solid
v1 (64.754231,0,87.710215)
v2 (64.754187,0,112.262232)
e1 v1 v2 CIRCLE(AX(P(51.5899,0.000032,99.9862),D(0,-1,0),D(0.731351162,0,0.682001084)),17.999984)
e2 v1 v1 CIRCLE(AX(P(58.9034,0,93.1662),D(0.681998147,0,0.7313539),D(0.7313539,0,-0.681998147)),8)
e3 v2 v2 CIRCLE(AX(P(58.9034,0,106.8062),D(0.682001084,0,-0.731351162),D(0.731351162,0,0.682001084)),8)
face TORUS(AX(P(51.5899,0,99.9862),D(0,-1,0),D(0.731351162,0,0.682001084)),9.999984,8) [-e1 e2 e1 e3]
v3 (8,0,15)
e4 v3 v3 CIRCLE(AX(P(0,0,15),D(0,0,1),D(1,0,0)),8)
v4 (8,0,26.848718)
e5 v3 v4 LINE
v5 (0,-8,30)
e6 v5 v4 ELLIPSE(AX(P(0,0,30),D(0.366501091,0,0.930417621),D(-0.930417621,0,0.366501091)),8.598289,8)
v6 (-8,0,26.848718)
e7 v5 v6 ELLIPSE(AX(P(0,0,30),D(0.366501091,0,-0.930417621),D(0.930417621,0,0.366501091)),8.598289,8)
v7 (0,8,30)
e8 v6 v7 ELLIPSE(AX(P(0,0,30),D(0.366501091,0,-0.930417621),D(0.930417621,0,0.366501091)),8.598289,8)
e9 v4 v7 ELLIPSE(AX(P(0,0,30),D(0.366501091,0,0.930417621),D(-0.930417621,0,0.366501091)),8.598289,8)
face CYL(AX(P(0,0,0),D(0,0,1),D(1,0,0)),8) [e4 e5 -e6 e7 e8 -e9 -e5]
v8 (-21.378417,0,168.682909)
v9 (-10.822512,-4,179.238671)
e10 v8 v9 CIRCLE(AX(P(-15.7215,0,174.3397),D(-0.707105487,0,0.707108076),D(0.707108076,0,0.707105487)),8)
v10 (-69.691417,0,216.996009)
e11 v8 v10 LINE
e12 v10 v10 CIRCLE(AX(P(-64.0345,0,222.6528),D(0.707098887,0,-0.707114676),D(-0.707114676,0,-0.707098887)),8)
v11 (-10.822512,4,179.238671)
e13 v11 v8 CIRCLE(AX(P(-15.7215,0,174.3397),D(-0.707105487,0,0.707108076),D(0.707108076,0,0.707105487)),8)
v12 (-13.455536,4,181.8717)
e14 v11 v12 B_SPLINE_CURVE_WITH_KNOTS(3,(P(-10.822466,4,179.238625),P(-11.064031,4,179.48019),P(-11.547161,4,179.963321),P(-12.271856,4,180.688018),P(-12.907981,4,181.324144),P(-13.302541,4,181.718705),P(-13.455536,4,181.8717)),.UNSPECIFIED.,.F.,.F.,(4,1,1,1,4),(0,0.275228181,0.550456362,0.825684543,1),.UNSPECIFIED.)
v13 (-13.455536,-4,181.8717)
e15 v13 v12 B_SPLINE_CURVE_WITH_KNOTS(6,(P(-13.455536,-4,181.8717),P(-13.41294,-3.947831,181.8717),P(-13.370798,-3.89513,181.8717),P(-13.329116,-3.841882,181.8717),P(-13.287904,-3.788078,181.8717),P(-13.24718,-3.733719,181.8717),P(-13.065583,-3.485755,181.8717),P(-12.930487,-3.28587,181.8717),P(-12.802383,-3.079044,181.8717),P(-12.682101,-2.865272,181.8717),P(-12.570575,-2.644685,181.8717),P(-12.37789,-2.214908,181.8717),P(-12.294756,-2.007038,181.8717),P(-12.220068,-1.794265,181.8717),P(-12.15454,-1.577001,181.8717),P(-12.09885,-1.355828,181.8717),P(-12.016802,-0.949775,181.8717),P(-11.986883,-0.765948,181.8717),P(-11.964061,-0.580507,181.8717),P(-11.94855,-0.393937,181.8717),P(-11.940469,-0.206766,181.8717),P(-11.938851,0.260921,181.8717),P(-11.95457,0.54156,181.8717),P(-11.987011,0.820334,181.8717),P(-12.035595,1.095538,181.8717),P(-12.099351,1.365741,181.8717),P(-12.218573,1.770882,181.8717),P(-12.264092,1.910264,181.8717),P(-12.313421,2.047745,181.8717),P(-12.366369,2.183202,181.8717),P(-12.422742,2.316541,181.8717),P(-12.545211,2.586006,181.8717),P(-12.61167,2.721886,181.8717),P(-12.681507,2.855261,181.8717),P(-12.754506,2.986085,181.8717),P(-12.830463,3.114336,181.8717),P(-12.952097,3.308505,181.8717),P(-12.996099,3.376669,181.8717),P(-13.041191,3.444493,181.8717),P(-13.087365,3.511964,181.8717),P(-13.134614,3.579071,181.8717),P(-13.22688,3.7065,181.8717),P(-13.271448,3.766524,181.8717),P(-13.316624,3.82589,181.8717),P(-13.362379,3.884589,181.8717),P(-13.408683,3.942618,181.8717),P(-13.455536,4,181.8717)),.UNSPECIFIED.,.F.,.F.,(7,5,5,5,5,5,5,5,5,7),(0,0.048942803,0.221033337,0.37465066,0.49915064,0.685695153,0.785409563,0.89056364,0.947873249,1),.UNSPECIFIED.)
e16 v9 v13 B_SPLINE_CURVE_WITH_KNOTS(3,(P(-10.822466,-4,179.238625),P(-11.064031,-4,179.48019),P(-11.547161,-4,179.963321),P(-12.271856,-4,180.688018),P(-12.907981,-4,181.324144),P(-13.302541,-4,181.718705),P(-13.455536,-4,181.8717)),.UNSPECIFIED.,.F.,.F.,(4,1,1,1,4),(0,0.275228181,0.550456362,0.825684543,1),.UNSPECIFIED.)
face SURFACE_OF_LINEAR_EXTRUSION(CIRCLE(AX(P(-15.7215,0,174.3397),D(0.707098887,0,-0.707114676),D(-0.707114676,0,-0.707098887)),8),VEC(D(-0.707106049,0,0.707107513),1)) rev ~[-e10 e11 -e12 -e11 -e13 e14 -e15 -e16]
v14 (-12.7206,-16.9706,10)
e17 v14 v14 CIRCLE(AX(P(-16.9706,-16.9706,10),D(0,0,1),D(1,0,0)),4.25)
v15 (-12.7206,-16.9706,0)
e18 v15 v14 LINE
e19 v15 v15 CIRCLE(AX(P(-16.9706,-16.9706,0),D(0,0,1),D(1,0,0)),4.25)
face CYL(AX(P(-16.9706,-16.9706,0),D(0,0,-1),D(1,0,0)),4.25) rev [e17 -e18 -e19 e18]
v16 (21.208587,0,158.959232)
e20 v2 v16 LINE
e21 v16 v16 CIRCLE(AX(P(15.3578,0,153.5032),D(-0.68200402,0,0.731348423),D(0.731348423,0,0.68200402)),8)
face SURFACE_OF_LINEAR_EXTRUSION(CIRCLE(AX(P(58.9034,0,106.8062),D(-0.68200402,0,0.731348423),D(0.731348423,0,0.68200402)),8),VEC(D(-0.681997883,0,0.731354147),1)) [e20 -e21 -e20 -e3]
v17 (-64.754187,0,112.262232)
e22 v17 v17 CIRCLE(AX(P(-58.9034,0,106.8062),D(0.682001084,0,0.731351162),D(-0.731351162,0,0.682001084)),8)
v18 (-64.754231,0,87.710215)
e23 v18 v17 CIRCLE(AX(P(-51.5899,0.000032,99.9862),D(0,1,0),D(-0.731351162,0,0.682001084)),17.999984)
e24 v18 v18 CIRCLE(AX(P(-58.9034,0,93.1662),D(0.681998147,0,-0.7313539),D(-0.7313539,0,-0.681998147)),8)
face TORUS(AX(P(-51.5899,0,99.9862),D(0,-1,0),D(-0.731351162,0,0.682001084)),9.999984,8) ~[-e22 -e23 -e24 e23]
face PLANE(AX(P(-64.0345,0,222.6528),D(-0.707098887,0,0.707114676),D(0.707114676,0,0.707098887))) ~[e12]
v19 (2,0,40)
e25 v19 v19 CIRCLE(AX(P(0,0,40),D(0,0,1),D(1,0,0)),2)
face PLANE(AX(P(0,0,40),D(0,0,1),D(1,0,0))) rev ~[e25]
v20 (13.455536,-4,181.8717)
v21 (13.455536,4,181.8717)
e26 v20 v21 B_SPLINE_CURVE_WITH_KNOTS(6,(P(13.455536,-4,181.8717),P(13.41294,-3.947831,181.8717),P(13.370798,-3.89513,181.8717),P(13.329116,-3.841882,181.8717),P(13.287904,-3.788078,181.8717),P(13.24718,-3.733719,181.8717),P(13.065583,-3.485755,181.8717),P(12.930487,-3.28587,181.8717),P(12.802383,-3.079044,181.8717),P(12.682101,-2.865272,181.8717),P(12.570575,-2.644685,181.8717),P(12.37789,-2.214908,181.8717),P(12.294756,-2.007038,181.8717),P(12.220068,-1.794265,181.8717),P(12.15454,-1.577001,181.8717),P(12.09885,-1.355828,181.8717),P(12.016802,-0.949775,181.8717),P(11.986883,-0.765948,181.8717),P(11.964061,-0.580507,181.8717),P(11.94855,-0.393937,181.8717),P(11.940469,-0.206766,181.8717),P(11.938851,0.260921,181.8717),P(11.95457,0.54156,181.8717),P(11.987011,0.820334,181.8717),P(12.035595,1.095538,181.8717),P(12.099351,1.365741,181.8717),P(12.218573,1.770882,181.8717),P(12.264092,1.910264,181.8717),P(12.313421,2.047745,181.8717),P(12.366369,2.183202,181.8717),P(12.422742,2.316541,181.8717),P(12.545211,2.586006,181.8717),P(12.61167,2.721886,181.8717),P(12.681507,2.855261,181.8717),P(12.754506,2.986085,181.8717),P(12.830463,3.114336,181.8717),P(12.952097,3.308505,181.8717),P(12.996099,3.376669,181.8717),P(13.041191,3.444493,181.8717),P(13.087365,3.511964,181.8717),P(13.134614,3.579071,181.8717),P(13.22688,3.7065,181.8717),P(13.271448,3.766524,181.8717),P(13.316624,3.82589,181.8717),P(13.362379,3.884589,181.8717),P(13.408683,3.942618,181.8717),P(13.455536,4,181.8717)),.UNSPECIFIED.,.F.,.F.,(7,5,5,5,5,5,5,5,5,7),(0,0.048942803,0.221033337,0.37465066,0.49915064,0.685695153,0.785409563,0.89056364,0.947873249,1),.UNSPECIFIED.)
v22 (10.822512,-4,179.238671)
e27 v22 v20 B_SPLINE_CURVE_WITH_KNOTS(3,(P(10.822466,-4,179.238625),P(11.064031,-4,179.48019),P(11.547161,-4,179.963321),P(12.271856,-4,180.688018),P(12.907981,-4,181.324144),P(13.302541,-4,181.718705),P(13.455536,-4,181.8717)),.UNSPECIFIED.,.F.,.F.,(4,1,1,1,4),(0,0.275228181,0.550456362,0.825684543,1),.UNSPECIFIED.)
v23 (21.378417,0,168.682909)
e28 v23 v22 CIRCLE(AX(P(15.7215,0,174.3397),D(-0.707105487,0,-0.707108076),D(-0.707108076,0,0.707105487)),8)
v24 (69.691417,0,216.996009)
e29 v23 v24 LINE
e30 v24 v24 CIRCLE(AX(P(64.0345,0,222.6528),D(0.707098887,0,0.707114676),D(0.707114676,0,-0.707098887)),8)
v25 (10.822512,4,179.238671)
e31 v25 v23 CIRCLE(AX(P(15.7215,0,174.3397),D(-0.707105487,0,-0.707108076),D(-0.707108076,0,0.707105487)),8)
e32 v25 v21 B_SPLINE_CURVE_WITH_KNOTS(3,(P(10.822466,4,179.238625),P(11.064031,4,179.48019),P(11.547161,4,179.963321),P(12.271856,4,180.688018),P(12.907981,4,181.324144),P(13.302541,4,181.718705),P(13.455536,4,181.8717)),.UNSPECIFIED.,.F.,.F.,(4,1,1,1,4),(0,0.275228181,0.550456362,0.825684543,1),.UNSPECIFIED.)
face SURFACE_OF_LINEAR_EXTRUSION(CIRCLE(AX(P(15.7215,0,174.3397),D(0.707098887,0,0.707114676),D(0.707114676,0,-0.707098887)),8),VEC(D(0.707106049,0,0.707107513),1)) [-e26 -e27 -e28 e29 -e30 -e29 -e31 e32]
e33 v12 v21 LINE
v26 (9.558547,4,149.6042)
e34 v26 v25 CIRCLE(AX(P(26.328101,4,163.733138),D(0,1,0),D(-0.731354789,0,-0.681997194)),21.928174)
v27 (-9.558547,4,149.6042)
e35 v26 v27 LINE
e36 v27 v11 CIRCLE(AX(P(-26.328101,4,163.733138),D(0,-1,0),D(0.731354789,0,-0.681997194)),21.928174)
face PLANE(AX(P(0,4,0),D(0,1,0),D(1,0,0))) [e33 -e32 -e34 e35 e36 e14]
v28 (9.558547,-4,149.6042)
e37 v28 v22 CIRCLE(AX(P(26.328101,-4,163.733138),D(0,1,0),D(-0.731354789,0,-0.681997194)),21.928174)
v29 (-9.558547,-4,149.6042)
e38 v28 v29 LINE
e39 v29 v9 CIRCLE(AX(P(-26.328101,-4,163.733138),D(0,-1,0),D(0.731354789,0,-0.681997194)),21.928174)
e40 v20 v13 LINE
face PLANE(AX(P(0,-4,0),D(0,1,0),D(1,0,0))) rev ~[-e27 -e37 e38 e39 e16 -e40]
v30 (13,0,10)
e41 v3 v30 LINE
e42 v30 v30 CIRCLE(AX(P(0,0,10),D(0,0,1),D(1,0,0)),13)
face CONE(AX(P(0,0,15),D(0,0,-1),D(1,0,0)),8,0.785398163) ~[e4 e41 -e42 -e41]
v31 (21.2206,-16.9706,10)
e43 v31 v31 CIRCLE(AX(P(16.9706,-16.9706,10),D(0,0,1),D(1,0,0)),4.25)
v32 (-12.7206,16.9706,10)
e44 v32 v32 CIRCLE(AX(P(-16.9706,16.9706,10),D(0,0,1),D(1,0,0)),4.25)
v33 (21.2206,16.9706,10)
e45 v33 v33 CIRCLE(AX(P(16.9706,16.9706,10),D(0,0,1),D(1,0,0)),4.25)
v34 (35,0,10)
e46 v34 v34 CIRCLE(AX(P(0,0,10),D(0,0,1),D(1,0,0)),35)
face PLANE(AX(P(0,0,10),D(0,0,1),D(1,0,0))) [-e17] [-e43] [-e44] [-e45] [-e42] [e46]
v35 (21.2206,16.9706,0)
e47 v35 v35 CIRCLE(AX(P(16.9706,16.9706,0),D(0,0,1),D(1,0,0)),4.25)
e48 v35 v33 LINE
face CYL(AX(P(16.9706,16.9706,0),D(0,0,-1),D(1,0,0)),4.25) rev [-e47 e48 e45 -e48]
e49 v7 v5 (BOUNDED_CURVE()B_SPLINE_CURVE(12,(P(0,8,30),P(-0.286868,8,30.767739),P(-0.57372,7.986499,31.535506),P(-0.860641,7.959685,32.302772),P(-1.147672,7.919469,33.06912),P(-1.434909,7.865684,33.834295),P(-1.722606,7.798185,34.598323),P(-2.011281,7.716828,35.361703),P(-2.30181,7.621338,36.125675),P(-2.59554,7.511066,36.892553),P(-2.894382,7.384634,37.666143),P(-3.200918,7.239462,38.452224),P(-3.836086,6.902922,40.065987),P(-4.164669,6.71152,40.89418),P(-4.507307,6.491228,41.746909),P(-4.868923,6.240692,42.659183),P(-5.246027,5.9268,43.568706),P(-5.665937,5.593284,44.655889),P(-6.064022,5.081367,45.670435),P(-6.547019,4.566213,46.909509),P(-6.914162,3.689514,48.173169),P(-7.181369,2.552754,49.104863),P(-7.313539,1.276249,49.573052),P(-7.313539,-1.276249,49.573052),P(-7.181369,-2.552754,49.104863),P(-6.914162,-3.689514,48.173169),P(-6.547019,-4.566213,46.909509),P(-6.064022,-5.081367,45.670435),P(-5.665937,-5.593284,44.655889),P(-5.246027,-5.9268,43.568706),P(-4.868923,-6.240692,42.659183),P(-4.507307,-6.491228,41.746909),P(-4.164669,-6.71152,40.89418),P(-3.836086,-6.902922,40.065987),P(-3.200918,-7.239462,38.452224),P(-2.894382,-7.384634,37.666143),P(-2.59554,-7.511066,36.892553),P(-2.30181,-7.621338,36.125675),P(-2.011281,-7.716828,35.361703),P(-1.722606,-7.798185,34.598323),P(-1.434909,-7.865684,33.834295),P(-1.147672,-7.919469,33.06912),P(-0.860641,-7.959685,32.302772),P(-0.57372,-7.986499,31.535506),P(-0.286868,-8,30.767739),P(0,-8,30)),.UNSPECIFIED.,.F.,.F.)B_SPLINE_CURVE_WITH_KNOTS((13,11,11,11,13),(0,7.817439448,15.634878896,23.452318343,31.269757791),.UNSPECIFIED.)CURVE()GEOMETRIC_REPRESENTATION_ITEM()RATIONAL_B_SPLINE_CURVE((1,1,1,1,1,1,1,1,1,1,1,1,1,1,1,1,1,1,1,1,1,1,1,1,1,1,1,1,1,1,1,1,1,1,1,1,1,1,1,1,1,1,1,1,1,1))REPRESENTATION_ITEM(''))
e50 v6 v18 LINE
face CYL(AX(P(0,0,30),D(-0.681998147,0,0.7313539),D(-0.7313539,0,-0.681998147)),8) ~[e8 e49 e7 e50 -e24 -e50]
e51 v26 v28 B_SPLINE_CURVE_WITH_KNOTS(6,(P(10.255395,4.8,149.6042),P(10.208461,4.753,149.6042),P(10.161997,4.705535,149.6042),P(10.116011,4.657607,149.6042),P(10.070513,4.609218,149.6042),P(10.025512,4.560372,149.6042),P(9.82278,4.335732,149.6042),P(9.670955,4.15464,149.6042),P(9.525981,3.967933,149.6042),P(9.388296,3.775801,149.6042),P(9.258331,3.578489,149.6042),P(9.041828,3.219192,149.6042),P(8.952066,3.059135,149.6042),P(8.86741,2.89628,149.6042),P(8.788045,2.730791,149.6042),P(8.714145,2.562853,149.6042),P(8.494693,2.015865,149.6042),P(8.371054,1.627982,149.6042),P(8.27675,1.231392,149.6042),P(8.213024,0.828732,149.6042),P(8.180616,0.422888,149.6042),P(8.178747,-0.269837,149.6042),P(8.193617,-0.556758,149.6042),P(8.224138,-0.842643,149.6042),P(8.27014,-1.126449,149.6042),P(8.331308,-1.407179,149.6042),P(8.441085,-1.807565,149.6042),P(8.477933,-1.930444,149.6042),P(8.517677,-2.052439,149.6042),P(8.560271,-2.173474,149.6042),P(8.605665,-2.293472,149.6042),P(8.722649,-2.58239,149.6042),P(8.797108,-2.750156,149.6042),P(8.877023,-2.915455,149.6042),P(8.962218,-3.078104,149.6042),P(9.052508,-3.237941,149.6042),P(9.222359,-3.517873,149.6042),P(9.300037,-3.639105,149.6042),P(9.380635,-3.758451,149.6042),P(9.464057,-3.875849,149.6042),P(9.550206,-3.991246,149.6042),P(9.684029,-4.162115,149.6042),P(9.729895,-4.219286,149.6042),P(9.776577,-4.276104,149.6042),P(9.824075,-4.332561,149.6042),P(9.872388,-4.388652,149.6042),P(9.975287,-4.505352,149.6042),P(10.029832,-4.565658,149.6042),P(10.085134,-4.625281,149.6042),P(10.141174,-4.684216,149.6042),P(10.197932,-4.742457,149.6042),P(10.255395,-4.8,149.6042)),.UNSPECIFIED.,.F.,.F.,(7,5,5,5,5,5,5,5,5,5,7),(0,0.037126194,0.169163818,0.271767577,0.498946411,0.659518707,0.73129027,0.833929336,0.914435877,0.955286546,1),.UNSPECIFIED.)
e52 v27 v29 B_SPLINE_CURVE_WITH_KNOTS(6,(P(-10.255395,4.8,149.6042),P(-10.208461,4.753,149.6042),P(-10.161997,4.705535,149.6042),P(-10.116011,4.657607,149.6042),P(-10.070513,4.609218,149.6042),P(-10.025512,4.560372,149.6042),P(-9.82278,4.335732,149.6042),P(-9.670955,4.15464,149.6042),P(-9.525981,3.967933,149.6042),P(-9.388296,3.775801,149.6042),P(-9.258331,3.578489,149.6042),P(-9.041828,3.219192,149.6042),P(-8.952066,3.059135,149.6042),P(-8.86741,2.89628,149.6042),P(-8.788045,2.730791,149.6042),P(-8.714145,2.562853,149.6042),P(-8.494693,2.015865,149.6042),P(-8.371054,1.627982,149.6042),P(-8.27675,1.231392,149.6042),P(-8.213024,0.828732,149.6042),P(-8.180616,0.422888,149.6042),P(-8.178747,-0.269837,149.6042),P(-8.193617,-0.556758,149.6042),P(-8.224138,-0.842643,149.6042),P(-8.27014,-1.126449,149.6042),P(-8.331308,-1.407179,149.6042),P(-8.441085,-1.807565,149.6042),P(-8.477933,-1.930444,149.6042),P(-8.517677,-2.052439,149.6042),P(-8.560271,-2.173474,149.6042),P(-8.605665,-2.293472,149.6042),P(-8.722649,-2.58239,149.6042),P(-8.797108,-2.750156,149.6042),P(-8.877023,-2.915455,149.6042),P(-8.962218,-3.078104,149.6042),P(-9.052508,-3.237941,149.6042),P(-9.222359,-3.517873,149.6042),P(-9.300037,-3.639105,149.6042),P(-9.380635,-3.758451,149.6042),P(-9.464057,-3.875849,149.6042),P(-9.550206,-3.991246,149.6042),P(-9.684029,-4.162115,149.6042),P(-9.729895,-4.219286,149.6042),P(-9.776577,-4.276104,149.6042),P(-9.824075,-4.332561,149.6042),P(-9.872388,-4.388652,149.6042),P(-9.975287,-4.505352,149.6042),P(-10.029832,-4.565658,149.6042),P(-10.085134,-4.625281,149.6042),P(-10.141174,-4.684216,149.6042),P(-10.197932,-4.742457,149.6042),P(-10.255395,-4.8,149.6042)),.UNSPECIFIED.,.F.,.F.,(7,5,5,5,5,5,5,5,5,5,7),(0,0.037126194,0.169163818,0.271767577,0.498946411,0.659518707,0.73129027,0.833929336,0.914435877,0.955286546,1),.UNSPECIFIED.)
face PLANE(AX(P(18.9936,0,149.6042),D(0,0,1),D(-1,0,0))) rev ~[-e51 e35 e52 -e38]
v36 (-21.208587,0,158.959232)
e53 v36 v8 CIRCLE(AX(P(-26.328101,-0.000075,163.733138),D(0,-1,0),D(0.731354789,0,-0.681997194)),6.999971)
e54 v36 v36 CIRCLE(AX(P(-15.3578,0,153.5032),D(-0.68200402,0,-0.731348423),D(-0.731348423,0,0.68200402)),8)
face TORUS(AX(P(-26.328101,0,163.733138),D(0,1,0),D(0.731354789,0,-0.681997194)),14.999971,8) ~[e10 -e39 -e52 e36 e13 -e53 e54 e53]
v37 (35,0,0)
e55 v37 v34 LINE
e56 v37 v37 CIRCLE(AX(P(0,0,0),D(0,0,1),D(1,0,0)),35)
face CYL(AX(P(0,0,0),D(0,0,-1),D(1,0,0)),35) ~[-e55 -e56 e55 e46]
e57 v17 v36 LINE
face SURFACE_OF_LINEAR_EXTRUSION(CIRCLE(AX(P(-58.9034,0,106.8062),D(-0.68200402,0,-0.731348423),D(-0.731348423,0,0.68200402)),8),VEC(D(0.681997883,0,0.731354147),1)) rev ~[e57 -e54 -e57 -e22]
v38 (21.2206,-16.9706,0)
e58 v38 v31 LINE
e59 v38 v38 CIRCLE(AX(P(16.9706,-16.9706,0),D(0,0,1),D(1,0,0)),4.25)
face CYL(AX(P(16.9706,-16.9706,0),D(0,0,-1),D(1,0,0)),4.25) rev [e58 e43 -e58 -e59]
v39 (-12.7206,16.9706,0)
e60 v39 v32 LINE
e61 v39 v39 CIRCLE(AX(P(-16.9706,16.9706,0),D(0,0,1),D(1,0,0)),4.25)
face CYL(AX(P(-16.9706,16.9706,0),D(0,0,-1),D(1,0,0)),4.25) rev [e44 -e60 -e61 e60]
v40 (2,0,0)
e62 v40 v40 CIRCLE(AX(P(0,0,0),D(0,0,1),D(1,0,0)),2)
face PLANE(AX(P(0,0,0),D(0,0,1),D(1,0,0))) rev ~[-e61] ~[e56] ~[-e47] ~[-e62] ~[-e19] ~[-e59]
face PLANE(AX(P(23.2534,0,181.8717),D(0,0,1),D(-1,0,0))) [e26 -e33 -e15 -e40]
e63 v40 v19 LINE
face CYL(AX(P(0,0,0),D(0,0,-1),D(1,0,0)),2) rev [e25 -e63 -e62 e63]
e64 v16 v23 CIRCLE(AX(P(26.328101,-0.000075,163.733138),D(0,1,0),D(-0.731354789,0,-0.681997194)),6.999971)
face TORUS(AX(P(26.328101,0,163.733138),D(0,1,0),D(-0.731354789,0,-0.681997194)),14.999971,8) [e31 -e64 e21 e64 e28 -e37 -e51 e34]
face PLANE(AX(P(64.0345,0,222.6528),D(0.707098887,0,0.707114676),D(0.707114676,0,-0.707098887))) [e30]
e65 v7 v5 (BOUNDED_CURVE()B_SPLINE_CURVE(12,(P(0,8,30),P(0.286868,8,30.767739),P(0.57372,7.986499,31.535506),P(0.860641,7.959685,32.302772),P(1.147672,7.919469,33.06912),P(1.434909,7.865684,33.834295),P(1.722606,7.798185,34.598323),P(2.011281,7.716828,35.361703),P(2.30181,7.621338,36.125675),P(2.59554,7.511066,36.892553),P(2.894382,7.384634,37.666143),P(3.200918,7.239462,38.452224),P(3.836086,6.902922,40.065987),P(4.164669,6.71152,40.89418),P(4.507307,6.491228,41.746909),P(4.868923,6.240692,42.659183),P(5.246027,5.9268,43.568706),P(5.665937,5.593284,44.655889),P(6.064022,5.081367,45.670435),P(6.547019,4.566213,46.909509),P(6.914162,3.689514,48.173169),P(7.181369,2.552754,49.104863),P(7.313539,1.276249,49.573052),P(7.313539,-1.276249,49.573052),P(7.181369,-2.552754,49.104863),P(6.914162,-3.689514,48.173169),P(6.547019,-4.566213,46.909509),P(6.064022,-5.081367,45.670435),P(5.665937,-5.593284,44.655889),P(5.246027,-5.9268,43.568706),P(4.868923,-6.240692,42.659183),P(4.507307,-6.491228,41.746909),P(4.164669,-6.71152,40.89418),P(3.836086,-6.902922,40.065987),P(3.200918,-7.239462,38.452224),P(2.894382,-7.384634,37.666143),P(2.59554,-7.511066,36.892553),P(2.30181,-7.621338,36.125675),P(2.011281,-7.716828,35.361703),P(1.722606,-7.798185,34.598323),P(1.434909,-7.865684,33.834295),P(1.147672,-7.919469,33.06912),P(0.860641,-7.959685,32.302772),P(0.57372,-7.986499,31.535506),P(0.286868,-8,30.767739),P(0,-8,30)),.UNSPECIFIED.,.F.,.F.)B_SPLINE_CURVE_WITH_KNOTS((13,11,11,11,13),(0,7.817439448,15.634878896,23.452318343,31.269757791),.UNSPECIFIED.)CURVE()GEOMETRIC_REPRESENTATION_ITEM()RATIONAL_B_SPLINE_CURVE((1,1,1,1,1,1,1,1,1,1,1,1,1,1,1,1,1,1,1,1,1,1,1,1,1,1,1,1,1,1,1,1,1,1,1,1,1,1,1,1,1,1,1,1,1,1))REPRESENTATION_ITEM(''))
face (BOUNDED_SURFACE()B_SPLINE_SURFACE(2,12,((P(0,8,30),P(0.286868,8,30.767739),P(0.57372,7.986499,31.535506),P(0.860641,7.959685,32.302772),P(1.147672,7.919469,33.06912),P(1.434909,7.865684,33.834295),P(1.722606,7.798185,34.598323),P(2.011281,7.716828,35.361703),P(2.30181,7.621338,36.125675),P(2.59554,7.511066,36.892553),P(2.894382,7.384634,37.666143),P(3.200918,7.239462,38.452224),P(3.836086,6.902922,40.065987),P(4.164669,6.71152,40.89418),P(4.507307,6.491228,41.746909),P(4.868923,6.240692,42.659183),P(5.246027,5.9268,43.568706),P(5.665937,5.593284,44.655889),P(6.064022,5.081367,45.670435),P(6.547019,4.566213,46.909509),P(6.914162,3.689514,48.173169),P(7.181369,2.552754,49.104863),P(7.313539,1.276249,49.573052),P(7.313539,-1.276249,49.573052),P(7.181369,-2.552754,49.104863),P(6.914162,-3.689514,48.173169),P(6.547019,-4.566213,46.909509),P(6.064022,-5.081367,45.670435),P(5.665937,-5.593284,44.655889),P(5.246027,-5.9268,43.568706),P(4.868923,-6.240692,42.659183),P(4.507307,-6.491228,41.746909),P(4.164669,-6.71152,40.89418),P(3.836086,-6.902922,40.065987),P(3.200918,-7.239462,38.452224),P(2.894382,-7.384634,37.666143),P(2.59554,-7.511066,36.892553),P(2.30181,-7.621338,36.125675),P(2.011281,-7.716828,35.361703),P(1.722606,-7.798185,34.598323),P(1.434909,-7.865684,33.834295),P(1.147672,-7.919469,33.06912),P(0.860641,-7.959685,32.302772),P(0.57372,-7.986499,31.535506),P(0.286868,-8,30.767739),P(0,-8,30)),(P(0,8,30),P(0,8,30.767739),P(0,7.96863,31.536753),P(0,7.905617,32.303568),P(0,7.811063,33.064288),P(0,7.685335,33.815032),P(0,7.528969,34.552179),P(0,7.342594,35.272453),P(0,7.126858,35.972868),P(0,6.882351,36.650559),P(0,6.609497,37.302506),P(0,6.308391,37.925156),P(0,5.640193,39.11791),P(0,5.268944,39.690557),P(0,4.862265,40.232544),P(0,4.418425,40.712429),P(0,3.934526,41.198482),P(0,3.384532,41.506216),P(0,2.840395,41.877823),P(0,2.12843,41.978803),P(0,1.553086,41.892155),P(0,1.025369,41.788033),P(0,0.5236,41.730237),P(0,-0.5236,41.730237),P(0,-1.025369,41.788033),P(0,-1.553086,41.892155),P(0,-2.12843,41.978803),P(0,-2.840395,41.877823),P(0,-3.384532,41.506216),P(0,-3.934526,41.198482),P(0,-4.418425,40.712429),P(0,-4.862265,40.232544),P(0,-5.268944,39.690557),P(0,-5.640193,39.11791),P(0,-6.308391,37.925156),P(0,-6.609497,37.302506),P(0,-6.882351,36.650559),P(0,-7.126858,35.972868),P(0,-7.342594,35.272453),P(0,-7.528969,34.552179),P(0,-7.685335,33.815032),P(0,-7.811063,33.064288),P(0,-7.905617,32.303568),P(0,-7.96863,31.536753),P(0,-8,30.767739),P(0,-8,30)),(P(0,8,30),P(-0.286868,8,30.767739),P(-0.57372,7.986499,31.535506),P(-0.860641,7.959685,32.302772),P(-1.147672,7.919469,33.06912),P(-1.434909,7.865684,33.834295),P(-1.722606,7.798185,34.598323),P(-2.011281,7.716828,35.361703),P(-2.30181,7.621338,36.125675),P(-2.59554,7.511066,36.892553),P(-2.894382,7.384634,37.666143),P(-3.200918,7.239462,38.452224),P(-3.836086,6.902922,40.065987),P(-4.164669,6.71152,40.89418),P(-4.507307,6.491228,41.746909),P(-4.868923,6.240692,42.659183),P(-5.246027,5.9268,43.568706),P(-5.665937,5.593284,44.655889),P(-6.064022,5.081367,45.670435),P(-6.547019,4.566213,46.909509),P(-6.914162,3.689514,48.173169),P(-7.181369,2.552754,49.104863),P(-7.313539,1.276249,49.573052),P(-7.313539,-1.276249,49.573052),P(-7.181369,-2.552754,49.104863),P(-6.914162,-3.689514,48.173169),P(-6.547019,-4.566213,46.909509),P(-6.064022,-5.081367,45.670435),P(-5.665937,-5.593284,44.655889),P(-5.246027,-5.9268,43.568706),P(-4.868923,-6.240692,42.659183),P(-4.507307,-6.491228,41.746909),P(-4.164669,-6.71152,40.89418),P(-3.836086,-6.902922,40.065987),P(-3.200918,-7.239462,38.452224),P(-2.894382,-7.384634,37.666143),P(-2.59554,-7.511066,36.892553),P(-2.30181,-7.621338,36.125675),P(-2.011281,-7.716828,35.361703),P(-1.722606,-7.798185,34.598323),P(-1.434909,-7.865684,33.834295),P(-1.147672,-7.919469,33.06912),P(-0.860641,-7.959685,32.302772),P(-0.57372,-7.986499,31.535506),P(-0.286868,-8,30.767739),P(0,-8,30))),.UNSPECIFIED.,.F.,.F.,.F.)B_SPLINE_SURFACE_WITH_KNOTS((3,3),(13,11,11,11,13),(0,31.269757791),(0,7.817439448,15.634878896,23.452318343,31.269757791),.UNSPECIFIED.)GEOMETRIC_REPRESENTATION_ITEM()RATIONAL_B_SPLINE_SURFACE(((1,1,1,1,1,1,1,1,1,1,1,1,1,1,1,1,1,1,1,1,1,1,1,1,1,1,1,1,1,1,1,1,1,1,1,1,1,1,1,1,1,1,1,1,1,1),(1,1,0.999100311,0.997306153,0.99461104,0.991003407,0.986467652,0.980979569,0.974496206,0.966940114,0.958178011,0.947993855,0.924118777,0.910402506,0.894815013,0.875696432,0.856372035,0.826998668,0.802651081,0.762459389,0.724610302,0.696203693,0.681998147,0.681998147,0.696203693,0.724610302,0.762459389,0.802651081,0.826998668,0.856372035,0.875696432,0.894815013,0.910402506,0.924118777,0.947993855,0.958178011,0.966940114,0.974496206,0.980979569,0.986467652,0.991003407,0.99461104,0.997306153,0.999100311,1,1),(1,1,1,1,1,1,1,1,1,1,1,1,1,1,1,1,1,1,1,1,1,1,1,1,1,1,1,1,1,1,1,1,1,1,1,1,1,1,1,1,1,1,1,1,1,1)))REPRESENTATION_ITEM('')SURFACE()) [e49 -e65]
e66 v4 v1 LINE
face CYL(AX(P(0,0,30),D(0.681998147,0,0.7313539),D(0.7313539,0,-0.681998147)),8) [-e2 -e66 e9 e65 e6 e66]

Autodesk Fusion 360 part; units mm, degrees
sketch "Sketch1" plane through (0, 0, 0) normal (0, 1, 0) x (1, 0, 0)
  line L0 (0, 0) -> (100, 0) construction
  line L1 (100, 0) -> (100, -250) construction
  line L2 (100, -250) -> (0, -250) construction
  line L3 (0, 0) -> (0, -30)
  line L4 (0, -30) -> (58.9034, -93.1662)
  line L5 (0, -30) -> (96.6869, -30) construction
  line L6 (58.9034, -106.8062) -> (15.3578, -153.5032)
  line L7 (65.2632, -99.9862) -> (65.2632, -250) construction
  line L8 (0, 0) -> (0, -250)
  line L9 (15.7215, -174.3397) -> (64.0345, -222.6528)
  line L10 (5.4788, -164.0971) -> (88.5181, -164.0971) construction
  arc A0 (58.9034, -106.8062) -> (58.9034, -93.1662) centre (51.5899, -99.9862) ccw
  arc A1 (15.3578, -153.5032) -> (15.7215, -174.3397) centre (26.3281, -163.7331) ccw
  line L11 (18.9936, -149.6042) -> (0, -149.6042)
  line L12 (23.2534, -181.8717) -> (0, -181.8717)
  line L13 (0, -181.8717) -> (0, -149.6042)
  dimension "d1" = 100
  dimension "d2" = 250
  dimension "d3" = 47
  dimension "d4" = 94
  dimension "d8" = 30
  dimension "d16" = 45
  dimension "d17" = 10
  dimension "d18" = 15
sketch "Sketch2" plane through (0, 0, 0) normal (0, 0, 1) x (1, 0, 0)
  circle A0 centre (0, 0) radius 8
  circle A1 centre (0, 0) radius 24 construction
  line L0 (0, 0) -> (16.9706, 16.9706) construction
  line L1 (0, 0) -> (24, 0) construction
  circle A2 centre (16.9706, 16.9706) radius 4.25
  circle A3 centre (0, 0) radius 35
  circle A4 centre (-16.9706, 16.9706) radius 4.25
  circle A5 centre (-16.9706, -16.9706) radius 4.25
  circle A6 centre (16.9706, -16.9706) radius 4.25
  circle A7 centre (0, 0) radius 2
  dimension "d9" = 16
  dimension "d10" = 48
  dimension "d11" = 45
  dimension "d12" = 8.5
  dimension "d13" = 70
  dimension "d15" = 360
  dimension "d34" = 4
sweep "Sweep1" add profiles "Sketch2" path "Sketch1" along L3 L4 A0 L6 A1 L9 section 1 contours A0 | A7
extrude "Extrude1" add sketch "Sketch1" along normal mid plane 8 contours L6 L8 L9 A1 L11 L12 L13
mirror "Mirror1" about plane through (0, 0, 0) normal (1, 0, 0) of bodies 1 merged
extrude "Extrude2" add sketch "Sketch2" along normal blind 10 contours A3
fillet "Fillet1" radius 10 1 edges at (0, 0, 41.7302)
chamfer "Chamfer1" distance 5 angle 45 1 edges at (-7.4586, -2.8929, 10)
extrude "Extrude3" cut sketch "Sketch2" along normal blind 40 contours A7
